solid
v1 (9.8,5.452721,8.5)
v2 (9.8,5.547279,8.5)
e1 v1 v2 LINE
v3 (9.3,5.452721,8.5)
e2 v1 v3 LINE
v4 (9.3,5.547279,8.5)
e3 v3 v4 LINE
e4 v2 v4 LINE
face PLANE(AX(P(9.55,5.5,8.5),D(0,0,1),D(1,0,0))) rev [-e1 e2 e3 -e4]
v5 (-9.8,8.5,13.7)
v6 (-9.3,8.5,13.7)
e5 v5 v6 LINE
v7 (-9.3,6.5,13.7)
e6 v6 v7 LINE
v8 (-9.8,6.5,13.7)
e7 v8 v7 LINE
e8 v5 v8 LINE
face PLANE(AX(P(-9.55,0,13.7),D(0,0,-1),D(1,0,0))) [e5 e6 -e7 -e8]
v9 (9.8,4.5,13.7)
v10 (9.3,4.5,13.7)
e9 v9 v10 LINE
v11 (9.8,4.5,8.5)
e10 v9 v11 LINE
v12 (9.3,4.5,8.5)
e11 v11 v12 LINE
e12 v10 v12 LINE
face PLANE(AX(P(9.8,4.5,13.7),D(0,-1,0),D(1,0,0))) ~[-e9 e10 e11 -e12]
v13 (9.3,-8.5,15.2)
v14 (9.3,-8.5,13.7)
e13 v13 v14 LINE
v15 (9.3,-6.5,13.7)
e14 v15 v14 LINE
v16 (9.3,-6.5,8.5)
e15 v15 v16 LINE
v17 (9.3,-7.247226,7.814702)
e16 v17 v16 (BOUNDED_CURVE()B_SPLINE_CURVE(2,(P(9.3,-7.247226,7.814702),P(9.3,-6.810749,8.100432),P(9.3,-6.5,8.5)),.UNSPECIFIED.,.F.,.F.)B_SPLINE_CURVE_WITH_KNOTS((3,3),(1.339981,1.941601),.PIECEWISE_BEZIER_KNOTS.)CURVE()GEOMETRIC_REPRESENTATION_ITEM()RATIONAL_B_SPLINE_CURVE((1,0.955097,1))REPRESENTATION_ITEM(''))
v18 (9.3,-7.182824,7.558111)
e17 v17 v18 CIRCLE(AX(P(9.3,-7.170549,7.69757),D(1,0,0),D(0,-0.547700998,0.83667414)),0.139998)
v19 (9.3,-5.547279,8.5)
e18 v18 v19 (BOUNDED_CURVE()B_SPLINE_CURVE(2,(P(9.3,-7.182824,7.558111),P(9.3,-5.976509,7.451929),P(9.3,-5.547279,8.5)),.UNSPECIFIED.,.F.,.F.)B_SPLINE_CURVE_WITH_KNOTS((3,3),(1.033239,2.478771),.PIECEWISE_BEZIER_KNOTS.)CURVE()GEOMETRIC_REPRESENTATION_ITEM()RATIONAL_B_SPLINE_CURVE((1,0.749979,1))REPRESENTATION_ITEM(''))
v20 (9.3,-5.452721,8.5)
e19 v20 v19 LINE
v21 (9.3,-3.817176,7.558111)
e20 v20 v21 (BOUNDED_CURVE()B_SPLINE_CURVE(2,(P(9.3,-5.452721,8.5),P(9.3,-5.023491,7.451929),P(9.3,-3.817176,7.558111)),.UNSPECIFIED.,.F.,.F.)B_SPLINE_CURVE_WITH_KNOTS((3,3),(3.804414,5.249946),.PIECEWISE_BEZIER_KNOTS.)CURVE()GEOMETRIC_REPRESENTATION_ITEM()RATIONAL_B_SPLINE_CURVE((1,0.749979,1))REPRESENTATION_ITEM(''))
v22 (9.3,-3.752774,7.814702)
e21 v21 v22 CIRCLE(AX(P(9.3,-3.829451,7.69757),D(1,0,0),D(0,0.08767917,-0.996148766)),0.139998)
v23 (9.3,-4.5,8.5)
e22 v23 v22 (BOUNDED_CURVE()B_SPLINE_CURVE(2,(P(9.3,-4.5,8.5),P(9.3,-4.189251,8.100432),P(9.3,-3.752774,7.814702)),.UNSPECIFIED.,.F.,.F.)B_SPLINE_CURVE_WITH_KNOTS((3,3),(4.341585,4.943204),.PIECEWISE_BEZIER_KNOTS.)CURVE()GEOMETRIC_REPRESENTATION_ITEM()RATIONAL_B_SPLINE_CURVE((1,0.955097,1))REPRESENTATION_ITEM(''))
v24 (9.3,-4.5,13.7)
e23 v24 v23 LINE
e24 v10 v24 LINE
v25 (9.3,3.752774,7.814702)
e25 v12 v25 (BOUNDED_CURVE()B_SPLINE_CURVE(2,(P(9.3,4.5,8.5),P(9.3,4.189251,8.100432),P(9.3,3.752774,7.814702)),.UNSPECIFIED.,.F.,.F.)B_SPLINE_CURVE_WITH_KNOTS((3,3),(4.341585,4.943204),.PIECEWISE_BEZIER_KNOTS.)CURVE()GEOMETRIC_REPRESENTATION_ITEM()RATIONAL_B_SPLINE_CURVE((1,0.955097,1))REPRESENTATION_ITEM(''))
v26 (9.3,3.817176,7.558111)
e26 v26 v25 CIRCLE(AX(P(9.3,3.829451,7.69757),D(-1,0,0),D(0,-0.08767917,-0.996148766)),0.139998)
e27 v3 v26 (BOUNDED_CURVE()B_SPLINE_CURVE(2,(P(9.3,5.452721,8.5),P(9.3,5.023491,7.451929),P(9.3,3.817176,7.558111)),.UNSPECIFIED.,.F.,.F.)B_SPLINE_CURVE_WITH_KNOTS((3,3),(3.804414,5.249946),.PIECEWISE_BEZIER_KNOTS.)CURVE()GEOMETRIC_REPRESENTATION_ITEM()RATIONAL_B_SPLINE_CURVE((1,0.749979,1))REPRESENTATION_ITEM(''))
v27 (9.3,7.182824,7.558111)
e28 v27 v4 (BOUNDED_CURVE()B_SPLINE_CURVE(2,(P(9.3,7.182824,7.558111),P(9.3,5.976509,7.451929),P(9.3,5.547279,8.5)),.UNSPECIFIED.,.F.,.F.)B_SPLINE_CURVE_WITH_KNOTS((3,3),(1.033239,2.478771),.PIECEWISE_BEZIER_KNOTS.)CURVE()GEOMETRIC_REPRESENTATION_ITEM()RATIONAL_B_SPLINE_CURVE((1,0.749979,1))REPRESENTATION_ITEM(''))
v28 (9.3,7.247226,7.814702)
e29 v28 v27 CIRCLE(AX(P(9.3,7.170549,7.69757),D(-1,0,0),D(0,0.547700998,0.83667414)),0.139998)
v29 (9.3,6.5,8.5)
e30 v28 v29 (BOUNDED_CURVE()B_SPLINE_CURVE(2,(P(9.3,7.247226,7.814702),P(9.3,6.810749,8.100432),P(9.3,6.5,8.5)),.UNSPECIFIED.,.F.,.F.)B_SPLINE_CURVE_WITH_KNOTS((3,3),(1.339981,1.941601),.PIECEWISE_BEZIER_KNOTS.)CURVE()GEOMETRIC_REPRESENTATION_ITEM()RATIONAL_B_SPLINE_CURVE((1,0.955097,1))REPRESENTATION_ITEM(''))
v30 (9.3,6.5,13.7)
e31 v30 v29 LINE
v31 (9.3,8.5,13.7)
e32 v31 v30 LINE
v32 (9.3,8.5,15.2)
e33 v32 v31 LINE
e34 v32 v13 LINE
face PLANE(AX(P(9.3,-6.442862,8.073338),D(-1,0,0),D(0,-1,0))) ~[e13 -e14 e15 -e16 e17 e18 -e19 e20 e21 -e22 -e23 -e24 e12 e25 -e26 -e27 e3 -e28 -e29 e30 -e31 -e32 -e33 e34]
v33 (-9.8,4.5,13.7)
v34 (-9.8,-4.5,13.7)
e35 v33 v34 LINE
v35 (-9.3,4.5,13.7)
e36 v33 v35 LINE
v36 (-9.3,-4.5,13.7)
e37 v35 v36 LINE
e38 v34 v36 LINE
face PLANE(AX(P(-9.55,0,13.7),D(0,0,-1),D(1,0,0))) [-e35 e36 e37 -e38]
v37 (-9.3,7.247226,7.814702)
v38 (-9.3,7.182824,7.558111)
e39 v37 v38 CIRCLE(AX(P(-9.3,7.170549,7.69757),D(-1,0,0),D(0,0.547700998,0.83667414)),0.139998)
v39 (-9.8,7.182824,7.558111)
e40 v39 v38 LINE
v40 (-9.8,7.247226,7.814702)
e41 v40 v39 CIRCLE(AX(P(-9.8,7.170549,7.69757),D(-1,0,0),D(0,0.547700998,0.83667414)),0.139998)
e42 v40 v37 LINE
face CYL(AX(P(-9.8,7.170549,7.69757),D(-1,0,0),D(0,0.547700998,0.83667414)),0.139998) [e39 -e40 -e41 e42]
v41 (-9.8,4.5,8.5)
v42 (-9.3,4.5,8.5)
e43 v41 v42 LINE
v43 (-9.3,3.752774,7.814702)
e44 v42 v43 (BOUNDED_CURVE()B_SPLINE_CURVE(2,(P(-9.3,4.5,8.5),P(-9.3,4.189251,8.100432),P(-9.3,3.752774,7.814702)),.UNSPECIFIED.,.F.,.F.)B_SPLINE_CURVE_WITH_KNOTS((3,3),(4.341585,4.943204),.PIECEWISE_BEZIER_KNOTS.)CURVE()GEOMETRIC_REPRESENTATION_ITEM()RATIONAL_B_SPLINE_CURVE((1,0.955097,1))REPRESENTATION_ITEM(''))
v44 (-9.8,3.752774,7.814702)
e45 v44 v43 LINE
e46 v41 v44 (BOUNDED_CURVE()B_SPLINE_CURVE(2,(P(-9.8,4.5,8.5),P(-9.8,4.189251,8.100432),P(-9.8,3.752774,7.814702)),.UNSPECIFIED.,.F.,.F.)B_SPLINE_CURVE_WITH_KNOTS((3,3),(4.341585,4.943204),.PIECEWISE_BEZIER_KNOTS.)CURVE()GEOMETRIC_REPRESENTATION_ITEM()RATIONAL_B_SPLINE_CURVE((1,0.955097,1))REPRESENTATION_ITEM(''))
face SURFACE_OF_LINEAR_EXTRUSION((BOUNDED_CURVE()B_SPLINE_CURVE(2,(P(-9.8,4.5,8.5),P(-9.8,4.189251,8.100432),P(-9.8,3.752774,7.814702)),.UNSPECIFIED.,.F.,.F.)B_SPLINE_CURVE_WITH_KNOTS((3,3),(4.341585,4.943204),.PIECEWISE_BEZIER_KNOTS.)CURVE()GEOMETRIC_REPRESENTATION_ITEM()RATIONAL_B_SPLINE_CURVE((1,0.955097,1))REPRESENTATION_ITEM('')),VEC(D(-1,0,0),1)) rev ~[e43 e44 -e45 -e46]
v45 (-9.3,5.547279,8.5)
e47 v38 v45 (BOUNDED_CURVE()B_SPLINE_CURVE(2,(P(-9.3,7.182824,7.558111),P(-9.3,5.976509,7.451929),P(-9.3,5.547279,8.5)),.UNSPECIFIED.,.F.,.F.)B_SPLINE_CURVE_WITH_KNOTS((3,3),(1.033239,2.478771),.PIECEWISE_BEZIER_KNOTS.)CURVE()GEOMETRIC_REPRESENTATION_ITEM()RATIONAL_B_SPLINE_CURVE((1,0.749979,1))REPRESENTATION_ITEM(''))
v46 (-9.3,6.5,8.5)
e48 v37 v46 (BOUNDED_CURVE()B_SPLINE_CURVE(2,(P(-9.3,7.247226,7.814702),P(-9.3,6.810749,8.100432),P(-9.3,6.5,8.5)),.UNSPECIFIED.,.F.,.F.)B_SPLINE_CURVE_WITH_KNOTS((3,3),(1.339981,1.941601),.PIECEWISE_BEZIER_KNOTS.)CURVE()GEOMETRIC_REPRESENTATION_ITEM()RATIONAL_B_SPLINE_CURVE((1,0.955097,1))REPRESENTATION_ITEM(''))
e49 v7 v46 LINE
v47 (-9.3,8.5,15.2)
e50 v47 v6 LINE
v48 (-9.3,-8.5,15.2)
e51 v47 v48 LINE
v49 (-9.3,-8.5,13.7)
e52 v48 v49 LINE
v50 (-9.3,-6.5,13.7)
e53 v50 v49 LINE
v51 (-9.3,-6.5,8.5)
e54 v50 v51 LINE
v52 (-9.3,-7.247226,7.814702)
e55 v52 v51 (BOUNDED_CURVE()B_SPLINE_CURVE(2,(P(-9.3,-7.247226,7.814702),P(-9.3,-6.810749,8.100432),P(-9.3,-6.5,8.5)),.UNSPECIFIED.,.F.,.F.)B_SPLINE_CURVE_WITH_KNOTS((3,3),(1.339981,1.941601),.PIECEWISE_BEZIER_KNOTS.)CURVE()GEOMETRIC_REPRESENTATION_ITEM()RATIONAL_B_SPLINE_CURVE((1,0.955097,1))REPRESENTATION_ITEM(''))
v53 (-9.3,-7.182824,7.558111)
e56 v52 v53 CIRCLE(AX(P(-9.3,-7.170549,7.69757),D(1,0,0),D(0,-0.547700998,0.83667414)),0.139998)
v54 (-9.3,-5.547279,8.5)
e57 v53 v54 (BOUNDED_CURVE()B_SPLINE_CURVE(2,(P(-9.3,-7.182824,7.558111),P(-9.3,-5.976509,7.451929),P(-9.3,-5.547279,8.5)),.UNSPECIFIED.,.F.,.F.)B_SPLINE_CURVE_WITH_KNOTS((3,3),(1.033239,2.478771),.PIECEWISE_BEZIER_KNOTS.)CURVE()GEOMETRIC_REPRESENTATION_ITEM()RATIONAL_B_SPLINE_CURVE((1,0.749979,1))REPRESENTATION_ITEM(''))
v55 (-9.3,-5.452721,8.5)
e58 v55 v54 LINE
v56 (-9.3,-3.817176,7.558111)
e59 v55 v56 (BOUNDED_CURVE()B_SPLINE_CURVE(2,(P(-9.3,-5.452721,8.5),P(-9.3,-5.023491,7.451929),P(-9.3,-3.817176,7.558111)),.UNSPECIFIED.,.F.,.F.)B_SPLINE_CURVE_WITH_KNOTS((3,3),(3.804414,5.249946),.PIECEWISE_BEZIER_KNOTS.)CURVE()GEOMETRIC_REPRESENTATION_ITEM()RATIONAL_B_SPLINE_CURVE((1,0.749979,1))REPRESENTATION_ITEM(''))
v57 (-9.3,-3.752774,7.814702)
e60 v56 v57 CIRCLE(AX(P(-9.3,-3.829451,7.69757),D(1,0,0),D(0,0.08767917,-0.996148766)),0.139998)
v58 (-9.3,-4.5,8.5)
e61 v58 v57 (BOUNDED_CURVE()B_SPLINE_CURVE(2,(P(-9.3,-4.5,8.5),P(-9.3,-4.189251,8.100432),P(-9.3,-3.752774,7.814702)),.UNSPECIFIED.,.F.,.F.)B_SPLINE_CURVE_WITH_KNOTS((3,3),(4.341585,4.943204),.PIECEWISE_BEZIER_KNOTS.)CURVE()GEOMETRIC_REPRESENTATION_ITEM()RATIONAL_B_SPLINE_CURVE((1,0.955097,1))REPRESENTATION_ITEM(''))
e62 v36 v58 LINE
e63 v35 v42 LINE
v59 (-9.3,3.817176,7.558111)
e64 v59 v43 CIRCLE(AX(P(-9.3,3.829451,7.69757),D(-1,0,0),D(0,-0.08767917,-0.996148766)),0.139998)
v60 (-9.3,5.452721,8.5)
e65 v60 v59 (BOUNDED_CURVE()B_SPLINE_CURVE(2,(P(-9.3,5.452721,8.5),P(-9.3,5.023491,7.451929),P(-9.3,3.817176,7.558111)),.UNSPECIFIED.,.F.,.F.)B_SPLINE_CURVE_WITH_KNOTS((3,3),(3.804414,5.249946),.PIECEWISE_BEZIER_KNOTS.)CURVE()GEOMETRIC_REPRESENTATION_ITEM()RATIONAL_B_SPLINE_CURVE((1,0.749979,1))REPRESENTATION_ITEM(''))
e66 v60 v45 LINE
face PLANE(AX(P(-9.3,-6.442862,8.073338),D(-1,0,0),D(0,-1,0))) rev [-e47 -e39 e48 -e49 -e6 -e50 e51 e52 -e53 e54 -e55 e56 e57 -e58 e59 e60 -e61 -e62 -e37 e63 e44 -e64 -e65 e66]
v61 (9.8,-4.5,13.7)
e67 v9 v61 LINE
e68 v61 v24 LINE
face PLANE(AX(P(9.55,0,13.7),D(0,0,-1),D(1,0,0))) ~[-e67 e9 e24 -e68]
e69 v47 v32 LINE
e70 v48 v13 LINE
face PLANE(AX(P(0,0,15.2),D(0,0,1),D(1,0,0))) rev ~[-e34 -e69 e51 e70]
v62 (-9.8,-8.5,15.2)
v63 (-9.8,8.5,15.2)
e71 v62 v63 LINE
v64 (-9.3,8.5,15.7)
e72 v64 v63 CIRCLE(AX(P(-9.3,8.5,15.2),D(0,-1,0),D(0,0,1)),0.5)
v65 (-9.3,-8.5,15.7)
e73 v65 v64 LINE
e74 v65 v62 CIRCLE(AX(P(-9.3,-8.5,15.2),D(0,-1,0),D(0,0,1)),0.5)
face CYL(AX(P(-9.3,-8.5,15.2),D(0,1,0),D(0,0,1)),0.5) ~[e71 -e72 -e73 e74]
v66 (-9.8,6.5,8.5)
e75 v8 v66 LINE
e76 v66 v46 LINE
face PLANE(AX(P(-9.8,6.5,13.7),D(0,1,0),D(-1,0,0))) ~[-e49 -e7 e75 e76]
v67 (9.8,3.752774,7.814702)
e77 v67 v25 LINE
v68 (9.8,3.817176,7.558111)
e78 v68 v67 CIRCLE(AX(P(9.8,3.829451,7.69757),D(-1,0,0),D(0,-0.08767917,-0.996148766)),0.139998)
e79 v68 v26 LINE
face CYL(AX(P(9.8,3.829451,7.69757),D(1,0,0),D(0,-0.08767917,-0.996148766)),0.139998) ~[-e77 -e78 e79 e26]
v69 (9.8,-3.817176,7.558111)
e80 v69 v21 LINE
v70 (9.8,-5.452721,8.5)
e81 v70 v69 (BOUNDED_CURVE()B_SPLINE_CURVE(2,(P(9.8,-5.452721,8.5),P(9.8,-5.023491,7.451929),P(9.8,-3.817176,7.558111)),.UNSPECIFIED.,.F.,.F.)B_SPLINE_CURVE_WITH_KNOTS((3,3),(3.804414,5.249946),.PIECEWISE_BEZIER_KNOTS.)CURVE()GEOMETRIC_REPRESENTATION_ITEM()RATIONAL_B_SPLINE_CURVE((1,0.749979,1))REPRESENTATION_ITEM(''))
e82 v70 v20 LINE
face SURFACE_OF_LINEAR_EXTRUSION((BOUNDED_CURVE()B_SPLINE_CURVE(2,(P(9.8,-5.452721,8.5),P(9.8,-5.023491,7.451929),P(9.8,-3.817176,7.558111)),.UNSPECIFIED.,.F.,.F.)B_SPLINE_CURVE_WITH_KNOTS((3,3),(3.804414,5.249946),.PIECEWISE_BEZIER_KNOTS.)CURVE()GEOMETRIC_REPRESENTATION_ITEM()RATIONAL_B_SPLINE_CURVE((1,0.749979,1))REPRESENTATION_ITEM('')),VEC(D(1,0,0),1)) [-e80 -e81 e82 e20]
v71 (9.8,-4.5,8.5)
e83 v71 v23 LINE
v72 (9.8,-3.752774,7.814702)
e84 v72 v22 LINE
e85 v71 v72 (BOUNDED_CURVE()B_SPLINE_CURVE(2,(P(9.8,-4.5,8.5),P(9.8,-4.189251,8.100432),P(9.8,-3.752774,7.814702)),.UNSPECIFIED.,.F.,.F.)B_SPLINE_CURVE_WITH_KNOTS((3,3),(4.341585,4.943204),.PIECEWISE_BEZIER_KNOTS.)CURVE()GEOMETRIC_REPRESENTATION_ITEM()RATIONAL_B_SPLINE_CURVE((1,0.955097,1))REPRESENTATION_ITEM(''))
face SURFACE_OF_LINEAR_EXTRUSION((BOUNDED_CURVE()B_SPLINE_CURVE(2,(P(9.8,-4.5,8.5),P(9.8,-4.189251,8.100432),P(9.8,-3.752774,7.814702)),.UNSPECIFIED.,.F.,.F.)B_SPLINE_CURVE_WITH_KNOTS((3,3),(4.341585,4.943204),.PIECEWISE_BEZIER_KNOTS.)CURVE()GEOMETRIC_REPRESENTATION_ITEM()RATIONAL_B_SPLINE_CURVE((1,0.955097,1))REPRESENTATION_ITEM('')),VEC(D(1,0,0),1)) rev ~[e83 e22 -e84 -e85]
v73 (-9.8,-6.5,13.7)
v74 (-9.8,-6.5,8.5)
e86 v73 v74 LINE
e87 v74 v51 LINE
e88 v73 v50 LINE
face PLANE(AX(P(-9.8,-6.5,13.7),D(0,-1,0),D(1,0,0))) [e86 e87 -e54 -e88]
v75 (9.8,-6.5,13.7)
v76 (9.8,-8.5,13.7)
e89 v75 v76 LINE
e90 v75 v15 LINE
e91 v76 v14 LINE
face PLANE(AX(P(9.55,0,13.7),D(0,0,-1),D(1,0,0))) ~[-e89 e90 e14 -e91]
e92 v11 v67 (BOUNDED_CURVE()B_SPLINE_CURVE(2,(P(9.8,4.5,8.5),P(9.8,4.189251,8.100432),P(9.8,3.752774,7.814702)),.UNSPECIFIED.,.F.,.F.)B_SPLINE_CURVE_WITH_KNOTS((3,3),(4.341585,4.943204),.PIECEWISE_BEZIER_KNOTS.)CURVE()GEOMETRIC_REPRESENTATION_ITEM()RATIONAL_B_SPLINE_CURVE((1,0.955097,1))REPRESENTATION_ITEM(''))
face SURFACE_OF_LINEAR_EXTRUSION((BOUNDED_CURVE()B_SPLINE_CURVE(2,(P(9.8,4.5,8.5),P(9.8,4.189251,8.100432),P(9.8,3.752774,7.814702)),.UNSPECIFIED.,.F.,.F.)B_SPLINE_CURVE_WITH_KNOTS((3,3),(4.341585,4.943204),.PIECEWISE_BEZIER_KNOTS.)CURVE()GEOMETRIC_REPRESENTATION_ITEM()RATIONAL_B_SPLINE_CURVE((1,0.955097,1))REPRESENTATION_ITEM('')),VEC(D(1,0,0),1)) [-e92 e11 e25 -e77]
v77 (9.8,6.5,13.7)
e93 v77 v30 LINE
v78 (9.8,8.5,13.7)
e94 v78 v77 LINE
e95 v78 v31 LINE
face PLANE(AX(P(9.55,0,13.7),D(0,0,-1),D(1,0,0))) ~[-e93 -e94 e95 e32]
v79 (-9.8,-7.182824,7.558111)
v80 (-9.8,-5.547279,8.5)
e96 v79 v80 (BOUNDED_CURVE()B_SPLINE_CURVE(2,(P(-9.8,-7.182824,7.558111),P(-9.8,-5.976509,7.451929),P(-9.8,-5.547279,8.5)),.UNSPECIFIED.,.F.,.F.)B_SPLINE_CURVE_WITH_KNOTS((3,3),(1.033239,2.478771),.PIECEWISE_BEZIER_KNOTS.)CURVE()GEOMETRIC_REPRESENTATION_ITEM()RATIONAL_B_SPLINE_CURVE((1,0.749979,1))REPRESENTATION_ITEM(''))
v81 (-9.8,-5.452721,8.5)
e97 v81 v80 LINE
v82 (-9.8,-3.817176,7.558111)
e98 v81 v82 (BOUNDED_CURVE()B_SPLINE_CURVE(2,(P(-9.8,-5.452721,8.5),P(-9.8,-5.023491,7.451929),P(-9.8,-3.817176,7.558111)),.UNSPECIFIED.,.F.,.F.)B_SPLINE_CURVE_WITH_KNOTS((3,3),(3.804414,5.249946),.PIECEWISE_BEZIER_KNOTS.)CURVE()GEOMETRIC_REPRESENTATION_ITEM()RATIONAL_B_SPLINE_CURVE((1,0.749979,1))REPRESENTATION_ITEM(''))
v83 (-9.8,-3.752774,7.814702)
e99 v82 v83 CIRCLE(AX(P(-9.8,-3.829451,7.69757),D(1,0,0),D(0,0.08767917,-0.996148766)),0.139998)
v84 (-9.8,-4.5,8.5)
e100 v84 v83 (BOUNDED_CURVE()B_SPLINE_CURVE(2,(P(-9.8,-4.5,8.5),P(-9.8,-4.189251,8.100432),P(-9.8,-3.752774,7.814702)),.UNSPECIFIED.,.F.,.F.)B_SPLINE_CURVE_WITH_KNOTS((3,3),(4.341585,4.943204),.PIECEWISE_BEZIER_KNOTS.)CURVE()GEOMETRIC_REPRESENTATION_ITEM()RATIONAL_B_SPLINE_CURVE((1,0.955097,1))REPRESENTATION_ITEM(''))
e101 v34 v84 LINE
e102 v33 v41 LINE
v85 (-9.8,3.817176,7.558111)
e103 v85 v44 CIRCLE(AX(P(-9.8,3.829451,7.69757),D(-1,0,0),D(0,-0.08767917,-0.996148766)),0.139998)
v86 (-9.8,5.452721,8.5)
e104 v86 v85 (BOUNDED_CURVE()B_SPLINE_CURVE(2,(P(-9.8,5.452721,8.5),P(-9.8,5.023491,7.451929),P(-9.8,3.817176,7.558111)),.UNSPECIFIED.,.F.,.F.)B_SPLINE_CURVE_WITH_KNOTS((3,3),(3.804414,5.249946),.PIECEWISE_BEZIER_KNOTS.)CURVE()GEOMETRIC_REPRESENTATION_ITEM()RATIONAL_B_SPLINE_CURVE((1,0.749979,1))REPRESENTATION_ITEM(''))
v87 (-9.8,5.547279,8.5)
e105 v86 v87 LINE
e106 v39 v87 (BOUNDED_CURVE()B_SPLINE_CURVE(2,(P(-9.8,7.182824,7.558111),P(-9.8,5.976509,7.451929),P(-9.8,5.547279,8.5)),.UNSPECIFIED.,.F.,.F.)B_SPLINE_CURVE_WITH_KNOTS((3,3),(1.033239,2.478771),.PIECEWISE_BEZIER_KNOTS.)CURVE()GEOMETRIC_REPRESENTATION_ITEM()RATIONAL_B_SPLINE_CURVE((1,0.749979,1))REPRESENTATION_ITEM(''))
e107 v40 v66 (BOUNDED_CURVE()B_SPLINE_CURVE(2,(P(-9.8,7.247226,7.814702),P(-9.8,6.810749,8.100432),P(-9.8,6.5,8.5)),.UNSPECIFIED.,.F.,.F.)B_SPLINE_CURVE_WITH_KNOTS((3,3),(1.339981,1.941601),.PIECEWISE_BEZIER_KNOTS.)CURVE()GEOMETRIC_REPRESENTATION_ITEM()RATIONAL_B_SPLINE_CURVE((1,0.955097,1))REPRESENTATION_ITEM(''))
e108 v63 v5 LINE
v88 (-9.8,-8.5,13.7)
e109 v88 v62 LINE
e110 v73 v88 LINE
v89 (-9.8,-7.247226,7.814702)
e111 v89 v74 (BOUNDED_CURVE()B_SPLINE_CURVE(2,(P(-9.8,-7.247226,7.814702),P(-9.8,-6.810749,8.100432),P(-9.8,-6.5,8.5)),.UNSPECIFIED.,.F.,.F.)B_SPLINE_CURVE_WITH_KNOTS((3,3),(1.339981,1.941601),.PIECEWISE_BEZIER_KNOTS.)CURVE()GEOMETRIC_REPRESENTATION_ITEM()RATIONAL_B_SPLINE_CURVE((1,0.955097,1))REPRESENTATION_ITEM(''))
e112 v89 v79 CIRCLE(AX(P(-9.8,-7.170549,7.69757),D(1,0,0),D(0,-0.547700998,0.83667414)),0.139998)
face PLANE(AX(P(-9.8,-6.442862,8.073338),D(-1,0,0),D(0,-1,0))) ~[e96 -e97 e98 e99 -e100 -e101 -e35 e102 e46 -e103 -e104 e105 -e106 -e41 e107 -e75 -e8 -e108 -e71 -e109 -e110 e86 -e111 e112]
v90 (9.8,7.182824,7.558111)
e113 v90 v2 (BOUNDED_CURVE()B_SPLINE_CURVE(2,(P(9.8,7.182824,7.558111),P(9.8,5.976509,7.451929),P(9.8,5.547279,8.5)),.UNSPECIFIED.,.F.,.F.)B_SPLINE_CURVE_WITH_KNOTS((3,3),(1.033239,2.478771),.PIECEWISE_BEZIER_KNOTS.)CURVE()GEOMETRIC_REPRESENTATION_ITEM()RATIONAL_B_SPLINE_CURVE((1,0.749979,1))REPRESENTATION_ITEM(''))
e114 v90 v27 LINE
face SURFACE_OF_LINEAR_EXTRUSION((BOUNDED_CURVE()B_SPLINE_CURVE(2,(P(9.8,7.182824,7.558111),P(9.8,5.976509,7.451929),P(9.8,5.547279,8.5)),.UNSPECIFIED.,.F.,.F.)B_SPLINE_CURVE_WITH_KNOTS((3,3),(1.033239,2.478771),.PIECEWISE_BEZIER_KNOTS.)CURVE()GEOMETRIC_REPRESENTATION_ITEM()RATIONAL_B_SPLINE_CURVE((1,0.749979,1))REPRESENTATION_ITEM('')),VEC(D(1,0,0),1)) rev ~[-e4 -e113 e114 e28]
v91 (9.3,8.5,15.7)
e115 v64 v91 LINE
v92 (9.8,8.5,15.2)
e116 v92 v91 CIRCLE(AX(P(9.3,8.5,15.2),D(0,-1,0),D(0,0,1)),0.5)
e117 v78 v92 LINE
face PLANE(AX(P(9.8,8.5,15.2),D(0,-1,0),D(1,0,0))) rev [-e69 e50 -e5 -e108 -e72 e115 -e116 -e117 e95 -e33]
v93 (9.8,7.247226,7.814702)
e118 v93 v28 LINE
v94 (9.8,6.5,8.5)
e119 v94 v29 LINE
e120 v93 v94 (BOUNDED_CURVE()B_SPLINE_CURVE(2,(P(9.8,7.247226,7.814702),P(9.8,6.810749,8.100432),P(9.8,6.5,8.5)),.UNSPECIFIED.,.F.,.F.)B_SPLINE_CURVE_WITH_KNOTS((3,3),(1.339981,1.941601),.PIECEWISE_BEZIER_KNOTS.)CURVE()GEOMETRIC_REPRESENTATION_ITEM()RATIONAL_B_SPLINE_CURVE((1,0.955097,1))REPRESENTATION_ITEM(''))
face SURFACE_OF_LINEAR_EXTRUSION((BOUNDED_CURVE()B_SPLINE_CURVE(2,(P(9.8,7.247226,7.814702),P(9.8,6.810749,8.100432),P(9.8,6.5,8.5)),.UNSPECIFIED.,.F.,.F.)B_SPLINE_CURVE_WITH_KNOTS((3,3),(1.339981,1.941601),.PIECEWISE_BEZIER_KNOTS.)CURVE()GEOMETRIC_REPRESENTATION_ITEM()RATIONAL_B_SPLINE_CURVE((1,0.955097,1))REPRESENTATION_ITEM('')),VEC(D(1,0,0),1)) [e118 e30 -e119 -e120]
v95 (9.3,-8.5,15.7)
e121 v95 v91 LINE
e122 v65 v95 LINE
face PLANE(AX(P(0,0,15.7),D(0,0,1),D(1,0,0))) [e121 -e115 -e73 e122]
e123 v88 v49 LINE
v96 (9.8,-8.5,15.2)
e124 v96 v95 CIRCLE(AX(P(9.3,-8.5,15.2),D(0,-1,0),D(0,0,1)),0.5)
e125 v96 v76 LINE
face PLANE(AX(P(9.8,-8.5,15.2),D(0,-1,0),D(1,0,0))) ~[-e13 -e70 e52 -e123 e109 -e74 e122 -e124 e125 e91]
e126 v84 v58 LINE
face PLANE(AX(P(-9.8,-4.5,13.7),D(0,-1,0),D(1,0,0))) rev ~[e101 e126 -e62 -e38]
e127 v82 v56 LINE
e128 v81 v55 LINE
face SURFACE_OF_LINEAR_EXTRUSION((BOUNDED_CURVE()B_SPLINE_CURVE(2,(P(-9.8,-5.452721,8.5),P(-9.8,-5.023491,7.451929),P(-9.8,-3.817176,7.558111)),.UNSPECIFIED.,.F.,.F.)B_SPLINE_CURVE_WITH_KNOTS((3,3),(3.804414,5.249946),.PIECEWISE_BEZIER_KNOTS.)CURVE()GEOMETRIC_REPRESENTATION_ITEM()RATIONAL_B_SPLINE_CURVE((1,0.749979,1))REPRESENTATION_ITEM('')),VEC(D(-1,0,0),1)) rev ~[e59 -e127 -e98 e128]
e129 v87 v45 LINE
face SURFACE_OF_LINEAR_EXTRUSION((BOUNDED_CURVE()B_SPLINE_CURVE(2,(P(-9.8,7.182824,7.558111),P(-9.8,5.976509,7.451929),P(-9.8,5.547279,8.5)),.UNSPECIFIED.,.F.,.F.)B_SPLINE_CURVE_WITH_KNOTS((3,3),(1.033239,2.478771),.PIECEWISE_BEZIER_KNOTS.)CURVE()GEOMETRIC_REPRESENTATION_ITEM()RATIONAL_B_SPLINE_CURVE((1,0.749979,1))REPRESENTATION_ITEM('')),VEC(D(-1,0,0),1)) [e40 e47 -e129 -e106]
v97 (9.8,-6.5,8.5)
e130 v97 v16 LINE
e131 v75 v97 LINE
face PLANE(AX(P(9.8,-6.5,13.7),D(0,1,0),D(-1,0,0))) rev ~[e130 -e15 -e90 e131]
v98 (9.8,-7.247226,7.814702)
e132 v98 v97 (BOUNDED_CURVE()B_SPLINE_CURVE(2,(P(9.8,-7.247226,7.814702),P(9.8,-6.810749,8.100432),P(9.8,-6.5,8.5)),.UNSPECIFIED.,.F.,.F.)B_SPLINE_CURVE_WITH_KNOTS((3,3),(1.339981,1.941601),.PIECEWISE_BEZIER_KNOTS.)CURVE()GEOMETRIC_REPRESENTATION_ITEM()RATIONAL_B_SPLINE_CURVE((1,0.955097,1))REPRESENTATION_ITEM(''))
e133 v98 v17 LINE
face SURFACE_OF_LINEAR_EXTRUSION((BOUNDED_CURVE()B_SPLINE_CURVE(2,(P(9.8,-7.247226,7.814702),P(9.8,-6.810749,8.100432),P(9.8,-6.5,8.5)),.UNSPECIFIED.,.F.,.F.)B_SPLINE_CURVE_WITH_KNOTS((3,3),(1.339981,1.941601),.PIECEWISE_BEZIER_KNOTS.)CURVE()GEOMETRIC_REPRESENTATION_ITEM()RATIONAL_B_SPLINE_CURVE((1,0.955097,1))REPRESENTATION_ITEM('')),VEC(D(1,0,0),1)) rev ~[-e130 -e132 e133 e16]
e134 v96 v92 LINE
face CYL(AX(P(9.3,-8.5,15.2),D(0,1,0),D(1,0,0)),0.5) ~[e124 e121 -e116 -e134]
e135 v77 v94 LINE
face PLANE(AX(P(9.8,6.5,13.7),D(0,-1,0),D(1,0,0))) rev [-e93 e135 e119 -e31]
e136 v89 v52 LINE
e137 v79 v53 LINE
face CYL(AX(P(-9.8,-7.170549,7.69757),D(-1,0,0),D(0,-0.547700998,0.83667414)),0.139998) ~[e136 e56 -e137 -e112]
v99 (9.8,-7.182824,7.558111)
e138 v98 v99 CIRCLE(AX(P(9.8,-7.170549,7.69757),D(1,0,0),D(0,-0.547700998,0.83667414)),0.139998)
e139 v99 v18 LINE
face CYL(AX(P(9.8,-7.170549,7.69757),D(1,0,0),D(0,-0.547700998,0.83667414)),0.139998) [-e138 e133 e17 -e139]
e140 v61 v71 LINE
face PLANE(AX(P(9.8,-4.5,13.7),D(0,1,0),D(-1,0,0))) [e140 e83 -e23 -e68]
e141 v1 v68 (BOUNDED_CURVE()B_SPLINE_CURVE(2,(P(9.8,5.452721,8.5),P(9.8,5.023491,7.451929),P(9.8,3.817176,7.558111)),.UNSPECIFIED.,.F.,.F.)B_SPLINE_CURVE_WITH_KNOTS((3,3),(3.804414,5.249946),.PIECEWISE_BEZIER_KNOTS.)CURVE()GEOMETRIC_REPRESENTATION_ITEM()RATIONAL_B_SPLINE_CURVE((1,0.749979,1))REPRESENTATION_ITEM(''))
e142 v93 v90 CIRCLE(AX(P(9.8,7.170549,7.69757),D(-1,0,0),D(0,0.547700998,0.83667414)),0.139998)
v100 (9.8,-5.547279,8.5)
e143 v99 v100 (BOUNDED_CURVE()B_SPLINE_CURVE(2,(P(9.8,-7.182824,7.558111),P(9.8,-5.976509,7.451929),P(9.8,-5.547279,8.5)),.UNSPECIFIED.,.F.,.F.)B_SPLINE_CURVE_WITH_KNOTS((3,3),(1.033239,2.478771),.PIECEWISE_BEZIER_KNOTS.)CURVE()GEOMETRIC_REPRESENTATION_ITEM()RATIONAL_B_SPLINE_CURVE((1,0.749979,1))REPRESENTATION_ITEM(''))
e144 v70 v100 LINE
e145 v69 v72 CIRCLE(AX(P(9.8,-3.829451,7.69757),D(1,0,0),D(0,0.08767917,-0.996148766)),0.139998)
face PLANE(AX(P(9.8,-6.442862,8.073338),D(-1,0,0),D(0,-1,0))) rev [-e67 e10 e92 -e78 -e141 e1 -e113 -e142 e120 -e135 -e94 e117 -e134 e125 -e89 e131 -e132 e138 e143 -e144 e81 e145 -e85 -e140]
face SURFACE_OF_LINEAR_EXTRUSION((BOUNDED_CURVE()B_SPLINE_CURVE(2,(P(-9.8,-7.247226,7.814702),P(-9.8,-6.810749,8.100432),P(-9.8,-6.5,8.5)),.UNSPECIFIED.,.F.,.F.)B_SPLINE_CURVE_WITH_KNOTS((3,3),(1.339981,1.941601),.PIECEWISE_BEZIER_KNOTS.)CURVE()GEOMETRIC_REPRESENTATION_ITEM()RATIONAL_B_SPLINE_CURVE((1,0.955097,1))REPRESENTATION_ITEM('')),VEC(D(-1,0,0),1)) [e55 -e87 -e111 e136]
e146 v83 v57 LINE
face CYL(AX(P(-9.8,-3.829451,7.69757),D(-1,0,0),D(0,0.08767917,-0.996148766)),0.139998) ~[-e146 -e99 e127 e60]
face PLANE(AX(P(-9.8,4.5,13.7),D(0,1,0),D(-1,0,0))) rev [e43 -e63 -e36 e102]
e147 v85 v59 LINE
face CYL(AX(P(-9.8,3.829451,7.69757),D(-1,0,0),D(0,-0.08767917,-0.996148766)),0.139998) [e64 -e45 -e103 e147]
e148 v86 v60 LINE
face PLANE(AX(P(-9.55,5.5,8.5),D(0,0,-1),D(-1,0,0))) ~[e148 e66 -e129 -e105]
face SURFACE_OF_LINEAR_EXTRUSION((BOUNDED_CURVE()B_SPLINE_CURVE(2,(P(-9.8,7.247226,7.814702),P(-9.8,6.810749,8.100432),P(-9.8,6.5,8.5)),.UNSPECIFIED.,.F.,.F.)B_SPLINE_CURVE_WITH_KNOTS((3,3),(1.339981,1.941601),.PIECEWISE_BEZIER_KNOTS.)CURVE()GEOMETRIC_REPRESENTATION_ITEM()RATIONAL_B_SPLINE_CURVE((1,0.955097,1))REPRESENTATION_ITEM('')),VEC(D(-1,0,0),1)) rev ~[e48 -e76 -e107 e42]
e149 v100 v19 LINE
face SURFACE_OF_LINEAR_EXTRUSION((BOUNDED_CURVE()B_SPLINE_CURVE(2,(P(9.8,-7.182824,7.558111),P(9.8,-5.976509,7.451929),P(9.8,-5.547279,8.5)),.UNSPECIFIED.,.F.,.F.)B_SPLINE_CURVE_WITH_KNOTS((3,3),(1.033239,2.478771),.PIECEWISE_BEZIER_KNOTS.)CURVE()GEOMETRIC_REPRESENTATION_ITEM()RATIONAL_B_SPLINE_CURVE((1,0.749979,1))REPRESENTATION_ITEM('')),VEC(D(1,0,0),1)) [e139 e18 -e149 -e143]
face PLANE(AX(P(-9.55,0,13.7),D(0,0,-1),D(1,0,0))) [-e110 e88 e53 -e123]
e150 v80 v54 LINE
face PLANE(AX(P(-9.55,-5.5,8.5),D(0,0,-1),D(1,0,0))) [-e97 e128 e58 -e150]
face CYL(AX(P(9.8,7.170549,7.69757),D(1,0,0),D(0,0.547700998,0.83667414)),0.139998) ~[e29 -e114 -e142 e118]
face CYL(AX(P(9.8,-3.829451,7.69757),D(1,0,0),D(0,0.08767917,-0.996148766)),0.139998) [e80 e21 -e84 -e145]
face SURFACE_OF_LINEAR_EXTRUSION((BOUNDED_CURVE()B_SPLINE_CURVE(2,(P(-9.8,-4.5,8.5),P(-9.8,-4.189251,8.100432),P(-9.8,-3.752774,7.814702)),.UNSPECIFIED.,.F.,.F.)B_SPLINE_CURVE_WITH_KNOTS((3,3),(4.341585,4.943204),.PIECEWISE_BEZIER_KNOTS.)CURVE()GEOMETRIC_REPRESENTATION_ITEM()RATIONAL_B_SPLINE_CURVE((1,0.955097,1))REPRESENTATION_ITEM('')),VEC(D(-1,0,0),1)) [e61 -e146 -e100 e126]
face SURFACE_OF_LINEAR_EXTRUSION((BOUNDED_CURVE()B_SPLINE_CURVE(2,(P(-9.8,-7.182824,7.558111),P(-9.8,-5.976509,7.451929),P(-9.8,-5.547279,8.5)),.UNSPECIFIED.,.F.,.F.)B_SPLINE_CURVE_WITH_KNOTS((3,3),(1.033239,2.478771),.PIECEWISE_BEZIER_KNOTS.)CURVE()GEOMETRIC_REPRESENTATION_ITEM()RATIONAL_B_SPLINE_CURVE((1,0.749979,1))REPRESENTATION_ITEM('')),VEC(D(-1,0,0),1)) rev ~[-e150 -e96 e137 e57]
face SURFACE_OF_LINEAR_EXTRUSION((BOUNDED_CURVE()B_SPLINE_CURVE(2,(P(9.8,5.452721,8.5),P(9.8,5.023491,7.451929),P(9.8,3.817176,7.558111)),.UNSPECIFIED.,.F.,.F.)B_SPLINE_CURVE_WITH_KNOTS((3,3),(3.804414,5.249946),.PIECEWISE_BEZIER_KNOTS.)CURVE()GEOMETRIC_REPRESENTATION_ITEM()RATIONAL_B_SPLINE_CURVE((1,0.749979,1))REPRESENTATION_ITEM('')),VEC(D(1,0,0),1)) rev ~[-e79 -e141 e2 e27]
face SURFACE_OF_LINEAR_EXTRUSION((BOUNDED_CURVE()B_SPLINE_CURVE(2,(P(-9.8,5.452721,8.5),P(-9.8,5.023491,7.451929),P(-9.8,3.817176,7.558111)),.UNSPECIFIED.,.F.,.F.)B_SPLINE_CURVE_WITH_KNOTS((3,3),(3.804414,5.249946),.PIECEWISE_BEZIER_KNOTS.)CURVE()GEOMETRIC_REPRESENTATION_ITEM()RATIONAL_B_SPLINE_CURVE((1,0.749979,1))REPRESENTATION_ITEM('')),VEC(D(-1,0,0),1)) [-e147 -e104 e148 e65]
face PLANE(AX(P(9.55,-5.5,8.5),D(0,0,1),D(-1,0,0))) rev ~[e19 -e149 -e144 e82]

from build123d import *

# Parameters (mm, degrees)
SKETCH006_W                = 19.6
SKETCH006_H                = 17
PAD001_DEPTH               = 0.5
SKETCH011_W                = 0.5
SKETCH011_H                = 17
PAD002_DEPTH               = 1.5
SKETCH012_W                = 0.5
SKETCH012_H                = 2
PAD003_DEPTH               = 5.2
SKETCH012_MIRRORED008_2_W  = 0.5
SKETCH012_MIRRORED008_2_H  = 2
PAD003_MIRRORED008_2_DEPTH = 5.2
PAD004_DEPTH               = 0.5
PAD004_MIRRORED010_2_DEPTH = 0.5
FILLET_R                   = 0.5


with BuildPart() as part:
    # Sketch006 → Pad001 (new body)
    with BuildSketch(Plane.XY.offset(15.2)):
        Rectangle(SKETCH006_W, SKETCH006_H)
    extrude(amount=PAD001_DEPTH)

    # Sketch011 (on Face5 of Pad001) → Pad002 (join)
    with BuildSketch(Plane(origin=(0, 0, 15.2), x_dir=(1, 0, 0), z_dir=(0, 0, -1))):
        with Locations((-9.55, 0)):
            Rectangle(SKETCH011_W, SKETCH011_H)
    pad002 = extrude(amount=PAD002_DEPTH)

    # Mirrored007: Pad002 across YZ
    add(pad002.mirror(Plane.YZ))

    # Sketch012 (on Face5 of Mirrored007) → Pad003 (join)
    with BuildSketch(Plane(origin=(0, 0, 13.7), x_dir=(1, 0, 0), z_dir=(0, 0, -1))):
        with Locations((-9.55, 5.5)):
            Rectangle(SKETCH012_W, SKETCH012_H)
    pad003 = extrude(amount=PAD003_DEPTH)

    # Sketch012 Mirrored008 2 → Pad003 Mirrored008 2 (add)
    with BuildSketch(Plane(origin=(0, 0, 13.7), x_dir=(-1, 0, 0), z_dir=(0, 0, 1))):
        with Locations((-9.55, 5.5)):
            Rectangle(SKETCH012_MIRRORED008_2_W, SKETCH012_MIRRORED008_2_H)
    pad003_mirrored008_2 = extrude(amount=-PAD003_MIRRORED008_2_DEPTH)

    # Mirrored009: Pad003, Pad003 Mirrored008 2 across XZ
    add(pad003.mirror(Plane.XZ))
    add(pad003_mirrored008_2.mirror(Plane.XZ))

    # Sketch013 (on Face24 of MultiTransform001) → Pad004 (join)
    with BuildSketch(Plane(origin=(-9.8, 0, 0), x_dir=(0, -1, 0), z_dir=(-1, 0, 0))):
        with BuildLine():
            ThreePointArc((-7.247226, 7.814702), (-7.306335, 7.663488), (-7.182824, 7.558111))
            add(Edge.make_bspline(
                [(-7.182824, 7.558111), (-5.976509, 7.451929), (-5.547279, 8.5)],
                knots=[1.033239, 1.033239, 1.033239, 2.478771, 2.478771, 2.478771], degree=2, weights=[1, 0.749979, 1]))
            Line((-5.547279, 8.5), (-6.5, 8.5))
            add(Edge.make_bspline(
                [(-7.247226, 7.814702), (-6.810749, 8.100432), (-6.5, 8.5)],
                knots=[1.339981, 1.339981, 1.339981, 1.941601, 1.941601, 1.941601], degree=2, weights=[1, 0.955097, 1]))
        make_face()
        with BuildLine():
            add(Edge.make_bspline(
                [(-5.452721, 8.5), (-5.023491, 7.451929), (-3.817176, 7.558111)],
                knots=[3.804414, 3.804414, 3.804414, 5.249946, 5.249946, 5.249946], degree=2, weights=[1, 0.749979, 1]))
            ThreePointArc((-3.817176, 7.558111), (-3.693665, 7.663488), (-3.752774, 7.814702))
            add(Edge.make_bspline(
                [(-4.5, 8.5), (-4.189251, 8.100432), (-3.752774, 7.814702)],
                knots=[4.341585, 4.341585, 4.341585, 4.943204, 4.943204, 4.943204], degree=2, weights=[1, 0.955097, 1]))
            Line((-4.5, 8.5), (-5.452721, 8.5))
        make_face()
    pad004 = extrude(amount=-PAD004_DEPTH)

    # Sketch013 Mirrored010 2 → Pad004 Mirrored010 2 (add)
    with BuildSketch(Plane(origin=(9.8, 0, 0), x_dir=(0, -1, 0), z_dir=(-1, 0, 0))):
        with BuildLine():
            ThreePointArc((-7.247226, 7.814702), (-7.306335, 7.663488), (-7.182824, 7.558111))
            add(Edge.make_bspline(
                [(-7.182824, 7.558111), (-5.976509, 7.451929), (-5.547279, 8.5)],
                knots=[1.033239, 1.033239, 1.033239, 2.478771, 2.478771, 2.478771], degree=2, weights=[1, 0.749979, 1]))
            Line((-5.547279, 8.5), (-6.5, 8.5))
            add(Edge.make_bspline(
                [(-7.247226, 7.814702), (-6.810749, 8.100432), (-6.5, 8.5)],
                knots=[1.339981, 1.339981, 1.339981, 1.941601, 1.941601, 1.941601], degree=2, weights=[1, 0.955097, 1]))
        make_face()
        with BuildLine():
            add(Edge.make_bspline(
                [(-5.452721, 8.5), (-5.023491, 7.451929), (-3.817176, 7.558111)],
                knots=[3.804414, 3.804414, 3.804414, 5.249946, 5.249946, 5.249946], degree=2, weights=[1, 0.749979, 1]))
            ThreePointArc((-3.817176, 7.558111), (-3.693665, 7.663488), (-3.752774, 7.814702))
            add(Edge.make_bspline(
                [(-4.5, 8.5), (-4.189251, 8.100432), (-3.752774, 7.814702)],
                knots=[4.341585, 4.341585, 4.341585, 4.943204, 4.943204, 4.943204], degree=2, weights=[1, 0.955097, 1]))
            Line((-4.5, 8.5), (-5.452721, 8.5))
        make_face()
    pad004_mirrored010_2 = extrude(amount=PAD004_MIRRORED010_2_DEPTH)

    # Mirrored011: Pad004, Pad004 Mirrored010 2 across XZ
    add(pad004.mirror(Plane.XZ))
    add(pad004_mirrored010_2.mirror(Plane.XZ))

    # Fillet
    fillet_edges = [part.edges().sort_by_distance(p)[0] for p in [
        (-9.8, 0, 15.7),
        (9.8, 0, 15.7),
    ]]
    fillet(fillet_edges, radius=FILLET_R)


solid = part.part
